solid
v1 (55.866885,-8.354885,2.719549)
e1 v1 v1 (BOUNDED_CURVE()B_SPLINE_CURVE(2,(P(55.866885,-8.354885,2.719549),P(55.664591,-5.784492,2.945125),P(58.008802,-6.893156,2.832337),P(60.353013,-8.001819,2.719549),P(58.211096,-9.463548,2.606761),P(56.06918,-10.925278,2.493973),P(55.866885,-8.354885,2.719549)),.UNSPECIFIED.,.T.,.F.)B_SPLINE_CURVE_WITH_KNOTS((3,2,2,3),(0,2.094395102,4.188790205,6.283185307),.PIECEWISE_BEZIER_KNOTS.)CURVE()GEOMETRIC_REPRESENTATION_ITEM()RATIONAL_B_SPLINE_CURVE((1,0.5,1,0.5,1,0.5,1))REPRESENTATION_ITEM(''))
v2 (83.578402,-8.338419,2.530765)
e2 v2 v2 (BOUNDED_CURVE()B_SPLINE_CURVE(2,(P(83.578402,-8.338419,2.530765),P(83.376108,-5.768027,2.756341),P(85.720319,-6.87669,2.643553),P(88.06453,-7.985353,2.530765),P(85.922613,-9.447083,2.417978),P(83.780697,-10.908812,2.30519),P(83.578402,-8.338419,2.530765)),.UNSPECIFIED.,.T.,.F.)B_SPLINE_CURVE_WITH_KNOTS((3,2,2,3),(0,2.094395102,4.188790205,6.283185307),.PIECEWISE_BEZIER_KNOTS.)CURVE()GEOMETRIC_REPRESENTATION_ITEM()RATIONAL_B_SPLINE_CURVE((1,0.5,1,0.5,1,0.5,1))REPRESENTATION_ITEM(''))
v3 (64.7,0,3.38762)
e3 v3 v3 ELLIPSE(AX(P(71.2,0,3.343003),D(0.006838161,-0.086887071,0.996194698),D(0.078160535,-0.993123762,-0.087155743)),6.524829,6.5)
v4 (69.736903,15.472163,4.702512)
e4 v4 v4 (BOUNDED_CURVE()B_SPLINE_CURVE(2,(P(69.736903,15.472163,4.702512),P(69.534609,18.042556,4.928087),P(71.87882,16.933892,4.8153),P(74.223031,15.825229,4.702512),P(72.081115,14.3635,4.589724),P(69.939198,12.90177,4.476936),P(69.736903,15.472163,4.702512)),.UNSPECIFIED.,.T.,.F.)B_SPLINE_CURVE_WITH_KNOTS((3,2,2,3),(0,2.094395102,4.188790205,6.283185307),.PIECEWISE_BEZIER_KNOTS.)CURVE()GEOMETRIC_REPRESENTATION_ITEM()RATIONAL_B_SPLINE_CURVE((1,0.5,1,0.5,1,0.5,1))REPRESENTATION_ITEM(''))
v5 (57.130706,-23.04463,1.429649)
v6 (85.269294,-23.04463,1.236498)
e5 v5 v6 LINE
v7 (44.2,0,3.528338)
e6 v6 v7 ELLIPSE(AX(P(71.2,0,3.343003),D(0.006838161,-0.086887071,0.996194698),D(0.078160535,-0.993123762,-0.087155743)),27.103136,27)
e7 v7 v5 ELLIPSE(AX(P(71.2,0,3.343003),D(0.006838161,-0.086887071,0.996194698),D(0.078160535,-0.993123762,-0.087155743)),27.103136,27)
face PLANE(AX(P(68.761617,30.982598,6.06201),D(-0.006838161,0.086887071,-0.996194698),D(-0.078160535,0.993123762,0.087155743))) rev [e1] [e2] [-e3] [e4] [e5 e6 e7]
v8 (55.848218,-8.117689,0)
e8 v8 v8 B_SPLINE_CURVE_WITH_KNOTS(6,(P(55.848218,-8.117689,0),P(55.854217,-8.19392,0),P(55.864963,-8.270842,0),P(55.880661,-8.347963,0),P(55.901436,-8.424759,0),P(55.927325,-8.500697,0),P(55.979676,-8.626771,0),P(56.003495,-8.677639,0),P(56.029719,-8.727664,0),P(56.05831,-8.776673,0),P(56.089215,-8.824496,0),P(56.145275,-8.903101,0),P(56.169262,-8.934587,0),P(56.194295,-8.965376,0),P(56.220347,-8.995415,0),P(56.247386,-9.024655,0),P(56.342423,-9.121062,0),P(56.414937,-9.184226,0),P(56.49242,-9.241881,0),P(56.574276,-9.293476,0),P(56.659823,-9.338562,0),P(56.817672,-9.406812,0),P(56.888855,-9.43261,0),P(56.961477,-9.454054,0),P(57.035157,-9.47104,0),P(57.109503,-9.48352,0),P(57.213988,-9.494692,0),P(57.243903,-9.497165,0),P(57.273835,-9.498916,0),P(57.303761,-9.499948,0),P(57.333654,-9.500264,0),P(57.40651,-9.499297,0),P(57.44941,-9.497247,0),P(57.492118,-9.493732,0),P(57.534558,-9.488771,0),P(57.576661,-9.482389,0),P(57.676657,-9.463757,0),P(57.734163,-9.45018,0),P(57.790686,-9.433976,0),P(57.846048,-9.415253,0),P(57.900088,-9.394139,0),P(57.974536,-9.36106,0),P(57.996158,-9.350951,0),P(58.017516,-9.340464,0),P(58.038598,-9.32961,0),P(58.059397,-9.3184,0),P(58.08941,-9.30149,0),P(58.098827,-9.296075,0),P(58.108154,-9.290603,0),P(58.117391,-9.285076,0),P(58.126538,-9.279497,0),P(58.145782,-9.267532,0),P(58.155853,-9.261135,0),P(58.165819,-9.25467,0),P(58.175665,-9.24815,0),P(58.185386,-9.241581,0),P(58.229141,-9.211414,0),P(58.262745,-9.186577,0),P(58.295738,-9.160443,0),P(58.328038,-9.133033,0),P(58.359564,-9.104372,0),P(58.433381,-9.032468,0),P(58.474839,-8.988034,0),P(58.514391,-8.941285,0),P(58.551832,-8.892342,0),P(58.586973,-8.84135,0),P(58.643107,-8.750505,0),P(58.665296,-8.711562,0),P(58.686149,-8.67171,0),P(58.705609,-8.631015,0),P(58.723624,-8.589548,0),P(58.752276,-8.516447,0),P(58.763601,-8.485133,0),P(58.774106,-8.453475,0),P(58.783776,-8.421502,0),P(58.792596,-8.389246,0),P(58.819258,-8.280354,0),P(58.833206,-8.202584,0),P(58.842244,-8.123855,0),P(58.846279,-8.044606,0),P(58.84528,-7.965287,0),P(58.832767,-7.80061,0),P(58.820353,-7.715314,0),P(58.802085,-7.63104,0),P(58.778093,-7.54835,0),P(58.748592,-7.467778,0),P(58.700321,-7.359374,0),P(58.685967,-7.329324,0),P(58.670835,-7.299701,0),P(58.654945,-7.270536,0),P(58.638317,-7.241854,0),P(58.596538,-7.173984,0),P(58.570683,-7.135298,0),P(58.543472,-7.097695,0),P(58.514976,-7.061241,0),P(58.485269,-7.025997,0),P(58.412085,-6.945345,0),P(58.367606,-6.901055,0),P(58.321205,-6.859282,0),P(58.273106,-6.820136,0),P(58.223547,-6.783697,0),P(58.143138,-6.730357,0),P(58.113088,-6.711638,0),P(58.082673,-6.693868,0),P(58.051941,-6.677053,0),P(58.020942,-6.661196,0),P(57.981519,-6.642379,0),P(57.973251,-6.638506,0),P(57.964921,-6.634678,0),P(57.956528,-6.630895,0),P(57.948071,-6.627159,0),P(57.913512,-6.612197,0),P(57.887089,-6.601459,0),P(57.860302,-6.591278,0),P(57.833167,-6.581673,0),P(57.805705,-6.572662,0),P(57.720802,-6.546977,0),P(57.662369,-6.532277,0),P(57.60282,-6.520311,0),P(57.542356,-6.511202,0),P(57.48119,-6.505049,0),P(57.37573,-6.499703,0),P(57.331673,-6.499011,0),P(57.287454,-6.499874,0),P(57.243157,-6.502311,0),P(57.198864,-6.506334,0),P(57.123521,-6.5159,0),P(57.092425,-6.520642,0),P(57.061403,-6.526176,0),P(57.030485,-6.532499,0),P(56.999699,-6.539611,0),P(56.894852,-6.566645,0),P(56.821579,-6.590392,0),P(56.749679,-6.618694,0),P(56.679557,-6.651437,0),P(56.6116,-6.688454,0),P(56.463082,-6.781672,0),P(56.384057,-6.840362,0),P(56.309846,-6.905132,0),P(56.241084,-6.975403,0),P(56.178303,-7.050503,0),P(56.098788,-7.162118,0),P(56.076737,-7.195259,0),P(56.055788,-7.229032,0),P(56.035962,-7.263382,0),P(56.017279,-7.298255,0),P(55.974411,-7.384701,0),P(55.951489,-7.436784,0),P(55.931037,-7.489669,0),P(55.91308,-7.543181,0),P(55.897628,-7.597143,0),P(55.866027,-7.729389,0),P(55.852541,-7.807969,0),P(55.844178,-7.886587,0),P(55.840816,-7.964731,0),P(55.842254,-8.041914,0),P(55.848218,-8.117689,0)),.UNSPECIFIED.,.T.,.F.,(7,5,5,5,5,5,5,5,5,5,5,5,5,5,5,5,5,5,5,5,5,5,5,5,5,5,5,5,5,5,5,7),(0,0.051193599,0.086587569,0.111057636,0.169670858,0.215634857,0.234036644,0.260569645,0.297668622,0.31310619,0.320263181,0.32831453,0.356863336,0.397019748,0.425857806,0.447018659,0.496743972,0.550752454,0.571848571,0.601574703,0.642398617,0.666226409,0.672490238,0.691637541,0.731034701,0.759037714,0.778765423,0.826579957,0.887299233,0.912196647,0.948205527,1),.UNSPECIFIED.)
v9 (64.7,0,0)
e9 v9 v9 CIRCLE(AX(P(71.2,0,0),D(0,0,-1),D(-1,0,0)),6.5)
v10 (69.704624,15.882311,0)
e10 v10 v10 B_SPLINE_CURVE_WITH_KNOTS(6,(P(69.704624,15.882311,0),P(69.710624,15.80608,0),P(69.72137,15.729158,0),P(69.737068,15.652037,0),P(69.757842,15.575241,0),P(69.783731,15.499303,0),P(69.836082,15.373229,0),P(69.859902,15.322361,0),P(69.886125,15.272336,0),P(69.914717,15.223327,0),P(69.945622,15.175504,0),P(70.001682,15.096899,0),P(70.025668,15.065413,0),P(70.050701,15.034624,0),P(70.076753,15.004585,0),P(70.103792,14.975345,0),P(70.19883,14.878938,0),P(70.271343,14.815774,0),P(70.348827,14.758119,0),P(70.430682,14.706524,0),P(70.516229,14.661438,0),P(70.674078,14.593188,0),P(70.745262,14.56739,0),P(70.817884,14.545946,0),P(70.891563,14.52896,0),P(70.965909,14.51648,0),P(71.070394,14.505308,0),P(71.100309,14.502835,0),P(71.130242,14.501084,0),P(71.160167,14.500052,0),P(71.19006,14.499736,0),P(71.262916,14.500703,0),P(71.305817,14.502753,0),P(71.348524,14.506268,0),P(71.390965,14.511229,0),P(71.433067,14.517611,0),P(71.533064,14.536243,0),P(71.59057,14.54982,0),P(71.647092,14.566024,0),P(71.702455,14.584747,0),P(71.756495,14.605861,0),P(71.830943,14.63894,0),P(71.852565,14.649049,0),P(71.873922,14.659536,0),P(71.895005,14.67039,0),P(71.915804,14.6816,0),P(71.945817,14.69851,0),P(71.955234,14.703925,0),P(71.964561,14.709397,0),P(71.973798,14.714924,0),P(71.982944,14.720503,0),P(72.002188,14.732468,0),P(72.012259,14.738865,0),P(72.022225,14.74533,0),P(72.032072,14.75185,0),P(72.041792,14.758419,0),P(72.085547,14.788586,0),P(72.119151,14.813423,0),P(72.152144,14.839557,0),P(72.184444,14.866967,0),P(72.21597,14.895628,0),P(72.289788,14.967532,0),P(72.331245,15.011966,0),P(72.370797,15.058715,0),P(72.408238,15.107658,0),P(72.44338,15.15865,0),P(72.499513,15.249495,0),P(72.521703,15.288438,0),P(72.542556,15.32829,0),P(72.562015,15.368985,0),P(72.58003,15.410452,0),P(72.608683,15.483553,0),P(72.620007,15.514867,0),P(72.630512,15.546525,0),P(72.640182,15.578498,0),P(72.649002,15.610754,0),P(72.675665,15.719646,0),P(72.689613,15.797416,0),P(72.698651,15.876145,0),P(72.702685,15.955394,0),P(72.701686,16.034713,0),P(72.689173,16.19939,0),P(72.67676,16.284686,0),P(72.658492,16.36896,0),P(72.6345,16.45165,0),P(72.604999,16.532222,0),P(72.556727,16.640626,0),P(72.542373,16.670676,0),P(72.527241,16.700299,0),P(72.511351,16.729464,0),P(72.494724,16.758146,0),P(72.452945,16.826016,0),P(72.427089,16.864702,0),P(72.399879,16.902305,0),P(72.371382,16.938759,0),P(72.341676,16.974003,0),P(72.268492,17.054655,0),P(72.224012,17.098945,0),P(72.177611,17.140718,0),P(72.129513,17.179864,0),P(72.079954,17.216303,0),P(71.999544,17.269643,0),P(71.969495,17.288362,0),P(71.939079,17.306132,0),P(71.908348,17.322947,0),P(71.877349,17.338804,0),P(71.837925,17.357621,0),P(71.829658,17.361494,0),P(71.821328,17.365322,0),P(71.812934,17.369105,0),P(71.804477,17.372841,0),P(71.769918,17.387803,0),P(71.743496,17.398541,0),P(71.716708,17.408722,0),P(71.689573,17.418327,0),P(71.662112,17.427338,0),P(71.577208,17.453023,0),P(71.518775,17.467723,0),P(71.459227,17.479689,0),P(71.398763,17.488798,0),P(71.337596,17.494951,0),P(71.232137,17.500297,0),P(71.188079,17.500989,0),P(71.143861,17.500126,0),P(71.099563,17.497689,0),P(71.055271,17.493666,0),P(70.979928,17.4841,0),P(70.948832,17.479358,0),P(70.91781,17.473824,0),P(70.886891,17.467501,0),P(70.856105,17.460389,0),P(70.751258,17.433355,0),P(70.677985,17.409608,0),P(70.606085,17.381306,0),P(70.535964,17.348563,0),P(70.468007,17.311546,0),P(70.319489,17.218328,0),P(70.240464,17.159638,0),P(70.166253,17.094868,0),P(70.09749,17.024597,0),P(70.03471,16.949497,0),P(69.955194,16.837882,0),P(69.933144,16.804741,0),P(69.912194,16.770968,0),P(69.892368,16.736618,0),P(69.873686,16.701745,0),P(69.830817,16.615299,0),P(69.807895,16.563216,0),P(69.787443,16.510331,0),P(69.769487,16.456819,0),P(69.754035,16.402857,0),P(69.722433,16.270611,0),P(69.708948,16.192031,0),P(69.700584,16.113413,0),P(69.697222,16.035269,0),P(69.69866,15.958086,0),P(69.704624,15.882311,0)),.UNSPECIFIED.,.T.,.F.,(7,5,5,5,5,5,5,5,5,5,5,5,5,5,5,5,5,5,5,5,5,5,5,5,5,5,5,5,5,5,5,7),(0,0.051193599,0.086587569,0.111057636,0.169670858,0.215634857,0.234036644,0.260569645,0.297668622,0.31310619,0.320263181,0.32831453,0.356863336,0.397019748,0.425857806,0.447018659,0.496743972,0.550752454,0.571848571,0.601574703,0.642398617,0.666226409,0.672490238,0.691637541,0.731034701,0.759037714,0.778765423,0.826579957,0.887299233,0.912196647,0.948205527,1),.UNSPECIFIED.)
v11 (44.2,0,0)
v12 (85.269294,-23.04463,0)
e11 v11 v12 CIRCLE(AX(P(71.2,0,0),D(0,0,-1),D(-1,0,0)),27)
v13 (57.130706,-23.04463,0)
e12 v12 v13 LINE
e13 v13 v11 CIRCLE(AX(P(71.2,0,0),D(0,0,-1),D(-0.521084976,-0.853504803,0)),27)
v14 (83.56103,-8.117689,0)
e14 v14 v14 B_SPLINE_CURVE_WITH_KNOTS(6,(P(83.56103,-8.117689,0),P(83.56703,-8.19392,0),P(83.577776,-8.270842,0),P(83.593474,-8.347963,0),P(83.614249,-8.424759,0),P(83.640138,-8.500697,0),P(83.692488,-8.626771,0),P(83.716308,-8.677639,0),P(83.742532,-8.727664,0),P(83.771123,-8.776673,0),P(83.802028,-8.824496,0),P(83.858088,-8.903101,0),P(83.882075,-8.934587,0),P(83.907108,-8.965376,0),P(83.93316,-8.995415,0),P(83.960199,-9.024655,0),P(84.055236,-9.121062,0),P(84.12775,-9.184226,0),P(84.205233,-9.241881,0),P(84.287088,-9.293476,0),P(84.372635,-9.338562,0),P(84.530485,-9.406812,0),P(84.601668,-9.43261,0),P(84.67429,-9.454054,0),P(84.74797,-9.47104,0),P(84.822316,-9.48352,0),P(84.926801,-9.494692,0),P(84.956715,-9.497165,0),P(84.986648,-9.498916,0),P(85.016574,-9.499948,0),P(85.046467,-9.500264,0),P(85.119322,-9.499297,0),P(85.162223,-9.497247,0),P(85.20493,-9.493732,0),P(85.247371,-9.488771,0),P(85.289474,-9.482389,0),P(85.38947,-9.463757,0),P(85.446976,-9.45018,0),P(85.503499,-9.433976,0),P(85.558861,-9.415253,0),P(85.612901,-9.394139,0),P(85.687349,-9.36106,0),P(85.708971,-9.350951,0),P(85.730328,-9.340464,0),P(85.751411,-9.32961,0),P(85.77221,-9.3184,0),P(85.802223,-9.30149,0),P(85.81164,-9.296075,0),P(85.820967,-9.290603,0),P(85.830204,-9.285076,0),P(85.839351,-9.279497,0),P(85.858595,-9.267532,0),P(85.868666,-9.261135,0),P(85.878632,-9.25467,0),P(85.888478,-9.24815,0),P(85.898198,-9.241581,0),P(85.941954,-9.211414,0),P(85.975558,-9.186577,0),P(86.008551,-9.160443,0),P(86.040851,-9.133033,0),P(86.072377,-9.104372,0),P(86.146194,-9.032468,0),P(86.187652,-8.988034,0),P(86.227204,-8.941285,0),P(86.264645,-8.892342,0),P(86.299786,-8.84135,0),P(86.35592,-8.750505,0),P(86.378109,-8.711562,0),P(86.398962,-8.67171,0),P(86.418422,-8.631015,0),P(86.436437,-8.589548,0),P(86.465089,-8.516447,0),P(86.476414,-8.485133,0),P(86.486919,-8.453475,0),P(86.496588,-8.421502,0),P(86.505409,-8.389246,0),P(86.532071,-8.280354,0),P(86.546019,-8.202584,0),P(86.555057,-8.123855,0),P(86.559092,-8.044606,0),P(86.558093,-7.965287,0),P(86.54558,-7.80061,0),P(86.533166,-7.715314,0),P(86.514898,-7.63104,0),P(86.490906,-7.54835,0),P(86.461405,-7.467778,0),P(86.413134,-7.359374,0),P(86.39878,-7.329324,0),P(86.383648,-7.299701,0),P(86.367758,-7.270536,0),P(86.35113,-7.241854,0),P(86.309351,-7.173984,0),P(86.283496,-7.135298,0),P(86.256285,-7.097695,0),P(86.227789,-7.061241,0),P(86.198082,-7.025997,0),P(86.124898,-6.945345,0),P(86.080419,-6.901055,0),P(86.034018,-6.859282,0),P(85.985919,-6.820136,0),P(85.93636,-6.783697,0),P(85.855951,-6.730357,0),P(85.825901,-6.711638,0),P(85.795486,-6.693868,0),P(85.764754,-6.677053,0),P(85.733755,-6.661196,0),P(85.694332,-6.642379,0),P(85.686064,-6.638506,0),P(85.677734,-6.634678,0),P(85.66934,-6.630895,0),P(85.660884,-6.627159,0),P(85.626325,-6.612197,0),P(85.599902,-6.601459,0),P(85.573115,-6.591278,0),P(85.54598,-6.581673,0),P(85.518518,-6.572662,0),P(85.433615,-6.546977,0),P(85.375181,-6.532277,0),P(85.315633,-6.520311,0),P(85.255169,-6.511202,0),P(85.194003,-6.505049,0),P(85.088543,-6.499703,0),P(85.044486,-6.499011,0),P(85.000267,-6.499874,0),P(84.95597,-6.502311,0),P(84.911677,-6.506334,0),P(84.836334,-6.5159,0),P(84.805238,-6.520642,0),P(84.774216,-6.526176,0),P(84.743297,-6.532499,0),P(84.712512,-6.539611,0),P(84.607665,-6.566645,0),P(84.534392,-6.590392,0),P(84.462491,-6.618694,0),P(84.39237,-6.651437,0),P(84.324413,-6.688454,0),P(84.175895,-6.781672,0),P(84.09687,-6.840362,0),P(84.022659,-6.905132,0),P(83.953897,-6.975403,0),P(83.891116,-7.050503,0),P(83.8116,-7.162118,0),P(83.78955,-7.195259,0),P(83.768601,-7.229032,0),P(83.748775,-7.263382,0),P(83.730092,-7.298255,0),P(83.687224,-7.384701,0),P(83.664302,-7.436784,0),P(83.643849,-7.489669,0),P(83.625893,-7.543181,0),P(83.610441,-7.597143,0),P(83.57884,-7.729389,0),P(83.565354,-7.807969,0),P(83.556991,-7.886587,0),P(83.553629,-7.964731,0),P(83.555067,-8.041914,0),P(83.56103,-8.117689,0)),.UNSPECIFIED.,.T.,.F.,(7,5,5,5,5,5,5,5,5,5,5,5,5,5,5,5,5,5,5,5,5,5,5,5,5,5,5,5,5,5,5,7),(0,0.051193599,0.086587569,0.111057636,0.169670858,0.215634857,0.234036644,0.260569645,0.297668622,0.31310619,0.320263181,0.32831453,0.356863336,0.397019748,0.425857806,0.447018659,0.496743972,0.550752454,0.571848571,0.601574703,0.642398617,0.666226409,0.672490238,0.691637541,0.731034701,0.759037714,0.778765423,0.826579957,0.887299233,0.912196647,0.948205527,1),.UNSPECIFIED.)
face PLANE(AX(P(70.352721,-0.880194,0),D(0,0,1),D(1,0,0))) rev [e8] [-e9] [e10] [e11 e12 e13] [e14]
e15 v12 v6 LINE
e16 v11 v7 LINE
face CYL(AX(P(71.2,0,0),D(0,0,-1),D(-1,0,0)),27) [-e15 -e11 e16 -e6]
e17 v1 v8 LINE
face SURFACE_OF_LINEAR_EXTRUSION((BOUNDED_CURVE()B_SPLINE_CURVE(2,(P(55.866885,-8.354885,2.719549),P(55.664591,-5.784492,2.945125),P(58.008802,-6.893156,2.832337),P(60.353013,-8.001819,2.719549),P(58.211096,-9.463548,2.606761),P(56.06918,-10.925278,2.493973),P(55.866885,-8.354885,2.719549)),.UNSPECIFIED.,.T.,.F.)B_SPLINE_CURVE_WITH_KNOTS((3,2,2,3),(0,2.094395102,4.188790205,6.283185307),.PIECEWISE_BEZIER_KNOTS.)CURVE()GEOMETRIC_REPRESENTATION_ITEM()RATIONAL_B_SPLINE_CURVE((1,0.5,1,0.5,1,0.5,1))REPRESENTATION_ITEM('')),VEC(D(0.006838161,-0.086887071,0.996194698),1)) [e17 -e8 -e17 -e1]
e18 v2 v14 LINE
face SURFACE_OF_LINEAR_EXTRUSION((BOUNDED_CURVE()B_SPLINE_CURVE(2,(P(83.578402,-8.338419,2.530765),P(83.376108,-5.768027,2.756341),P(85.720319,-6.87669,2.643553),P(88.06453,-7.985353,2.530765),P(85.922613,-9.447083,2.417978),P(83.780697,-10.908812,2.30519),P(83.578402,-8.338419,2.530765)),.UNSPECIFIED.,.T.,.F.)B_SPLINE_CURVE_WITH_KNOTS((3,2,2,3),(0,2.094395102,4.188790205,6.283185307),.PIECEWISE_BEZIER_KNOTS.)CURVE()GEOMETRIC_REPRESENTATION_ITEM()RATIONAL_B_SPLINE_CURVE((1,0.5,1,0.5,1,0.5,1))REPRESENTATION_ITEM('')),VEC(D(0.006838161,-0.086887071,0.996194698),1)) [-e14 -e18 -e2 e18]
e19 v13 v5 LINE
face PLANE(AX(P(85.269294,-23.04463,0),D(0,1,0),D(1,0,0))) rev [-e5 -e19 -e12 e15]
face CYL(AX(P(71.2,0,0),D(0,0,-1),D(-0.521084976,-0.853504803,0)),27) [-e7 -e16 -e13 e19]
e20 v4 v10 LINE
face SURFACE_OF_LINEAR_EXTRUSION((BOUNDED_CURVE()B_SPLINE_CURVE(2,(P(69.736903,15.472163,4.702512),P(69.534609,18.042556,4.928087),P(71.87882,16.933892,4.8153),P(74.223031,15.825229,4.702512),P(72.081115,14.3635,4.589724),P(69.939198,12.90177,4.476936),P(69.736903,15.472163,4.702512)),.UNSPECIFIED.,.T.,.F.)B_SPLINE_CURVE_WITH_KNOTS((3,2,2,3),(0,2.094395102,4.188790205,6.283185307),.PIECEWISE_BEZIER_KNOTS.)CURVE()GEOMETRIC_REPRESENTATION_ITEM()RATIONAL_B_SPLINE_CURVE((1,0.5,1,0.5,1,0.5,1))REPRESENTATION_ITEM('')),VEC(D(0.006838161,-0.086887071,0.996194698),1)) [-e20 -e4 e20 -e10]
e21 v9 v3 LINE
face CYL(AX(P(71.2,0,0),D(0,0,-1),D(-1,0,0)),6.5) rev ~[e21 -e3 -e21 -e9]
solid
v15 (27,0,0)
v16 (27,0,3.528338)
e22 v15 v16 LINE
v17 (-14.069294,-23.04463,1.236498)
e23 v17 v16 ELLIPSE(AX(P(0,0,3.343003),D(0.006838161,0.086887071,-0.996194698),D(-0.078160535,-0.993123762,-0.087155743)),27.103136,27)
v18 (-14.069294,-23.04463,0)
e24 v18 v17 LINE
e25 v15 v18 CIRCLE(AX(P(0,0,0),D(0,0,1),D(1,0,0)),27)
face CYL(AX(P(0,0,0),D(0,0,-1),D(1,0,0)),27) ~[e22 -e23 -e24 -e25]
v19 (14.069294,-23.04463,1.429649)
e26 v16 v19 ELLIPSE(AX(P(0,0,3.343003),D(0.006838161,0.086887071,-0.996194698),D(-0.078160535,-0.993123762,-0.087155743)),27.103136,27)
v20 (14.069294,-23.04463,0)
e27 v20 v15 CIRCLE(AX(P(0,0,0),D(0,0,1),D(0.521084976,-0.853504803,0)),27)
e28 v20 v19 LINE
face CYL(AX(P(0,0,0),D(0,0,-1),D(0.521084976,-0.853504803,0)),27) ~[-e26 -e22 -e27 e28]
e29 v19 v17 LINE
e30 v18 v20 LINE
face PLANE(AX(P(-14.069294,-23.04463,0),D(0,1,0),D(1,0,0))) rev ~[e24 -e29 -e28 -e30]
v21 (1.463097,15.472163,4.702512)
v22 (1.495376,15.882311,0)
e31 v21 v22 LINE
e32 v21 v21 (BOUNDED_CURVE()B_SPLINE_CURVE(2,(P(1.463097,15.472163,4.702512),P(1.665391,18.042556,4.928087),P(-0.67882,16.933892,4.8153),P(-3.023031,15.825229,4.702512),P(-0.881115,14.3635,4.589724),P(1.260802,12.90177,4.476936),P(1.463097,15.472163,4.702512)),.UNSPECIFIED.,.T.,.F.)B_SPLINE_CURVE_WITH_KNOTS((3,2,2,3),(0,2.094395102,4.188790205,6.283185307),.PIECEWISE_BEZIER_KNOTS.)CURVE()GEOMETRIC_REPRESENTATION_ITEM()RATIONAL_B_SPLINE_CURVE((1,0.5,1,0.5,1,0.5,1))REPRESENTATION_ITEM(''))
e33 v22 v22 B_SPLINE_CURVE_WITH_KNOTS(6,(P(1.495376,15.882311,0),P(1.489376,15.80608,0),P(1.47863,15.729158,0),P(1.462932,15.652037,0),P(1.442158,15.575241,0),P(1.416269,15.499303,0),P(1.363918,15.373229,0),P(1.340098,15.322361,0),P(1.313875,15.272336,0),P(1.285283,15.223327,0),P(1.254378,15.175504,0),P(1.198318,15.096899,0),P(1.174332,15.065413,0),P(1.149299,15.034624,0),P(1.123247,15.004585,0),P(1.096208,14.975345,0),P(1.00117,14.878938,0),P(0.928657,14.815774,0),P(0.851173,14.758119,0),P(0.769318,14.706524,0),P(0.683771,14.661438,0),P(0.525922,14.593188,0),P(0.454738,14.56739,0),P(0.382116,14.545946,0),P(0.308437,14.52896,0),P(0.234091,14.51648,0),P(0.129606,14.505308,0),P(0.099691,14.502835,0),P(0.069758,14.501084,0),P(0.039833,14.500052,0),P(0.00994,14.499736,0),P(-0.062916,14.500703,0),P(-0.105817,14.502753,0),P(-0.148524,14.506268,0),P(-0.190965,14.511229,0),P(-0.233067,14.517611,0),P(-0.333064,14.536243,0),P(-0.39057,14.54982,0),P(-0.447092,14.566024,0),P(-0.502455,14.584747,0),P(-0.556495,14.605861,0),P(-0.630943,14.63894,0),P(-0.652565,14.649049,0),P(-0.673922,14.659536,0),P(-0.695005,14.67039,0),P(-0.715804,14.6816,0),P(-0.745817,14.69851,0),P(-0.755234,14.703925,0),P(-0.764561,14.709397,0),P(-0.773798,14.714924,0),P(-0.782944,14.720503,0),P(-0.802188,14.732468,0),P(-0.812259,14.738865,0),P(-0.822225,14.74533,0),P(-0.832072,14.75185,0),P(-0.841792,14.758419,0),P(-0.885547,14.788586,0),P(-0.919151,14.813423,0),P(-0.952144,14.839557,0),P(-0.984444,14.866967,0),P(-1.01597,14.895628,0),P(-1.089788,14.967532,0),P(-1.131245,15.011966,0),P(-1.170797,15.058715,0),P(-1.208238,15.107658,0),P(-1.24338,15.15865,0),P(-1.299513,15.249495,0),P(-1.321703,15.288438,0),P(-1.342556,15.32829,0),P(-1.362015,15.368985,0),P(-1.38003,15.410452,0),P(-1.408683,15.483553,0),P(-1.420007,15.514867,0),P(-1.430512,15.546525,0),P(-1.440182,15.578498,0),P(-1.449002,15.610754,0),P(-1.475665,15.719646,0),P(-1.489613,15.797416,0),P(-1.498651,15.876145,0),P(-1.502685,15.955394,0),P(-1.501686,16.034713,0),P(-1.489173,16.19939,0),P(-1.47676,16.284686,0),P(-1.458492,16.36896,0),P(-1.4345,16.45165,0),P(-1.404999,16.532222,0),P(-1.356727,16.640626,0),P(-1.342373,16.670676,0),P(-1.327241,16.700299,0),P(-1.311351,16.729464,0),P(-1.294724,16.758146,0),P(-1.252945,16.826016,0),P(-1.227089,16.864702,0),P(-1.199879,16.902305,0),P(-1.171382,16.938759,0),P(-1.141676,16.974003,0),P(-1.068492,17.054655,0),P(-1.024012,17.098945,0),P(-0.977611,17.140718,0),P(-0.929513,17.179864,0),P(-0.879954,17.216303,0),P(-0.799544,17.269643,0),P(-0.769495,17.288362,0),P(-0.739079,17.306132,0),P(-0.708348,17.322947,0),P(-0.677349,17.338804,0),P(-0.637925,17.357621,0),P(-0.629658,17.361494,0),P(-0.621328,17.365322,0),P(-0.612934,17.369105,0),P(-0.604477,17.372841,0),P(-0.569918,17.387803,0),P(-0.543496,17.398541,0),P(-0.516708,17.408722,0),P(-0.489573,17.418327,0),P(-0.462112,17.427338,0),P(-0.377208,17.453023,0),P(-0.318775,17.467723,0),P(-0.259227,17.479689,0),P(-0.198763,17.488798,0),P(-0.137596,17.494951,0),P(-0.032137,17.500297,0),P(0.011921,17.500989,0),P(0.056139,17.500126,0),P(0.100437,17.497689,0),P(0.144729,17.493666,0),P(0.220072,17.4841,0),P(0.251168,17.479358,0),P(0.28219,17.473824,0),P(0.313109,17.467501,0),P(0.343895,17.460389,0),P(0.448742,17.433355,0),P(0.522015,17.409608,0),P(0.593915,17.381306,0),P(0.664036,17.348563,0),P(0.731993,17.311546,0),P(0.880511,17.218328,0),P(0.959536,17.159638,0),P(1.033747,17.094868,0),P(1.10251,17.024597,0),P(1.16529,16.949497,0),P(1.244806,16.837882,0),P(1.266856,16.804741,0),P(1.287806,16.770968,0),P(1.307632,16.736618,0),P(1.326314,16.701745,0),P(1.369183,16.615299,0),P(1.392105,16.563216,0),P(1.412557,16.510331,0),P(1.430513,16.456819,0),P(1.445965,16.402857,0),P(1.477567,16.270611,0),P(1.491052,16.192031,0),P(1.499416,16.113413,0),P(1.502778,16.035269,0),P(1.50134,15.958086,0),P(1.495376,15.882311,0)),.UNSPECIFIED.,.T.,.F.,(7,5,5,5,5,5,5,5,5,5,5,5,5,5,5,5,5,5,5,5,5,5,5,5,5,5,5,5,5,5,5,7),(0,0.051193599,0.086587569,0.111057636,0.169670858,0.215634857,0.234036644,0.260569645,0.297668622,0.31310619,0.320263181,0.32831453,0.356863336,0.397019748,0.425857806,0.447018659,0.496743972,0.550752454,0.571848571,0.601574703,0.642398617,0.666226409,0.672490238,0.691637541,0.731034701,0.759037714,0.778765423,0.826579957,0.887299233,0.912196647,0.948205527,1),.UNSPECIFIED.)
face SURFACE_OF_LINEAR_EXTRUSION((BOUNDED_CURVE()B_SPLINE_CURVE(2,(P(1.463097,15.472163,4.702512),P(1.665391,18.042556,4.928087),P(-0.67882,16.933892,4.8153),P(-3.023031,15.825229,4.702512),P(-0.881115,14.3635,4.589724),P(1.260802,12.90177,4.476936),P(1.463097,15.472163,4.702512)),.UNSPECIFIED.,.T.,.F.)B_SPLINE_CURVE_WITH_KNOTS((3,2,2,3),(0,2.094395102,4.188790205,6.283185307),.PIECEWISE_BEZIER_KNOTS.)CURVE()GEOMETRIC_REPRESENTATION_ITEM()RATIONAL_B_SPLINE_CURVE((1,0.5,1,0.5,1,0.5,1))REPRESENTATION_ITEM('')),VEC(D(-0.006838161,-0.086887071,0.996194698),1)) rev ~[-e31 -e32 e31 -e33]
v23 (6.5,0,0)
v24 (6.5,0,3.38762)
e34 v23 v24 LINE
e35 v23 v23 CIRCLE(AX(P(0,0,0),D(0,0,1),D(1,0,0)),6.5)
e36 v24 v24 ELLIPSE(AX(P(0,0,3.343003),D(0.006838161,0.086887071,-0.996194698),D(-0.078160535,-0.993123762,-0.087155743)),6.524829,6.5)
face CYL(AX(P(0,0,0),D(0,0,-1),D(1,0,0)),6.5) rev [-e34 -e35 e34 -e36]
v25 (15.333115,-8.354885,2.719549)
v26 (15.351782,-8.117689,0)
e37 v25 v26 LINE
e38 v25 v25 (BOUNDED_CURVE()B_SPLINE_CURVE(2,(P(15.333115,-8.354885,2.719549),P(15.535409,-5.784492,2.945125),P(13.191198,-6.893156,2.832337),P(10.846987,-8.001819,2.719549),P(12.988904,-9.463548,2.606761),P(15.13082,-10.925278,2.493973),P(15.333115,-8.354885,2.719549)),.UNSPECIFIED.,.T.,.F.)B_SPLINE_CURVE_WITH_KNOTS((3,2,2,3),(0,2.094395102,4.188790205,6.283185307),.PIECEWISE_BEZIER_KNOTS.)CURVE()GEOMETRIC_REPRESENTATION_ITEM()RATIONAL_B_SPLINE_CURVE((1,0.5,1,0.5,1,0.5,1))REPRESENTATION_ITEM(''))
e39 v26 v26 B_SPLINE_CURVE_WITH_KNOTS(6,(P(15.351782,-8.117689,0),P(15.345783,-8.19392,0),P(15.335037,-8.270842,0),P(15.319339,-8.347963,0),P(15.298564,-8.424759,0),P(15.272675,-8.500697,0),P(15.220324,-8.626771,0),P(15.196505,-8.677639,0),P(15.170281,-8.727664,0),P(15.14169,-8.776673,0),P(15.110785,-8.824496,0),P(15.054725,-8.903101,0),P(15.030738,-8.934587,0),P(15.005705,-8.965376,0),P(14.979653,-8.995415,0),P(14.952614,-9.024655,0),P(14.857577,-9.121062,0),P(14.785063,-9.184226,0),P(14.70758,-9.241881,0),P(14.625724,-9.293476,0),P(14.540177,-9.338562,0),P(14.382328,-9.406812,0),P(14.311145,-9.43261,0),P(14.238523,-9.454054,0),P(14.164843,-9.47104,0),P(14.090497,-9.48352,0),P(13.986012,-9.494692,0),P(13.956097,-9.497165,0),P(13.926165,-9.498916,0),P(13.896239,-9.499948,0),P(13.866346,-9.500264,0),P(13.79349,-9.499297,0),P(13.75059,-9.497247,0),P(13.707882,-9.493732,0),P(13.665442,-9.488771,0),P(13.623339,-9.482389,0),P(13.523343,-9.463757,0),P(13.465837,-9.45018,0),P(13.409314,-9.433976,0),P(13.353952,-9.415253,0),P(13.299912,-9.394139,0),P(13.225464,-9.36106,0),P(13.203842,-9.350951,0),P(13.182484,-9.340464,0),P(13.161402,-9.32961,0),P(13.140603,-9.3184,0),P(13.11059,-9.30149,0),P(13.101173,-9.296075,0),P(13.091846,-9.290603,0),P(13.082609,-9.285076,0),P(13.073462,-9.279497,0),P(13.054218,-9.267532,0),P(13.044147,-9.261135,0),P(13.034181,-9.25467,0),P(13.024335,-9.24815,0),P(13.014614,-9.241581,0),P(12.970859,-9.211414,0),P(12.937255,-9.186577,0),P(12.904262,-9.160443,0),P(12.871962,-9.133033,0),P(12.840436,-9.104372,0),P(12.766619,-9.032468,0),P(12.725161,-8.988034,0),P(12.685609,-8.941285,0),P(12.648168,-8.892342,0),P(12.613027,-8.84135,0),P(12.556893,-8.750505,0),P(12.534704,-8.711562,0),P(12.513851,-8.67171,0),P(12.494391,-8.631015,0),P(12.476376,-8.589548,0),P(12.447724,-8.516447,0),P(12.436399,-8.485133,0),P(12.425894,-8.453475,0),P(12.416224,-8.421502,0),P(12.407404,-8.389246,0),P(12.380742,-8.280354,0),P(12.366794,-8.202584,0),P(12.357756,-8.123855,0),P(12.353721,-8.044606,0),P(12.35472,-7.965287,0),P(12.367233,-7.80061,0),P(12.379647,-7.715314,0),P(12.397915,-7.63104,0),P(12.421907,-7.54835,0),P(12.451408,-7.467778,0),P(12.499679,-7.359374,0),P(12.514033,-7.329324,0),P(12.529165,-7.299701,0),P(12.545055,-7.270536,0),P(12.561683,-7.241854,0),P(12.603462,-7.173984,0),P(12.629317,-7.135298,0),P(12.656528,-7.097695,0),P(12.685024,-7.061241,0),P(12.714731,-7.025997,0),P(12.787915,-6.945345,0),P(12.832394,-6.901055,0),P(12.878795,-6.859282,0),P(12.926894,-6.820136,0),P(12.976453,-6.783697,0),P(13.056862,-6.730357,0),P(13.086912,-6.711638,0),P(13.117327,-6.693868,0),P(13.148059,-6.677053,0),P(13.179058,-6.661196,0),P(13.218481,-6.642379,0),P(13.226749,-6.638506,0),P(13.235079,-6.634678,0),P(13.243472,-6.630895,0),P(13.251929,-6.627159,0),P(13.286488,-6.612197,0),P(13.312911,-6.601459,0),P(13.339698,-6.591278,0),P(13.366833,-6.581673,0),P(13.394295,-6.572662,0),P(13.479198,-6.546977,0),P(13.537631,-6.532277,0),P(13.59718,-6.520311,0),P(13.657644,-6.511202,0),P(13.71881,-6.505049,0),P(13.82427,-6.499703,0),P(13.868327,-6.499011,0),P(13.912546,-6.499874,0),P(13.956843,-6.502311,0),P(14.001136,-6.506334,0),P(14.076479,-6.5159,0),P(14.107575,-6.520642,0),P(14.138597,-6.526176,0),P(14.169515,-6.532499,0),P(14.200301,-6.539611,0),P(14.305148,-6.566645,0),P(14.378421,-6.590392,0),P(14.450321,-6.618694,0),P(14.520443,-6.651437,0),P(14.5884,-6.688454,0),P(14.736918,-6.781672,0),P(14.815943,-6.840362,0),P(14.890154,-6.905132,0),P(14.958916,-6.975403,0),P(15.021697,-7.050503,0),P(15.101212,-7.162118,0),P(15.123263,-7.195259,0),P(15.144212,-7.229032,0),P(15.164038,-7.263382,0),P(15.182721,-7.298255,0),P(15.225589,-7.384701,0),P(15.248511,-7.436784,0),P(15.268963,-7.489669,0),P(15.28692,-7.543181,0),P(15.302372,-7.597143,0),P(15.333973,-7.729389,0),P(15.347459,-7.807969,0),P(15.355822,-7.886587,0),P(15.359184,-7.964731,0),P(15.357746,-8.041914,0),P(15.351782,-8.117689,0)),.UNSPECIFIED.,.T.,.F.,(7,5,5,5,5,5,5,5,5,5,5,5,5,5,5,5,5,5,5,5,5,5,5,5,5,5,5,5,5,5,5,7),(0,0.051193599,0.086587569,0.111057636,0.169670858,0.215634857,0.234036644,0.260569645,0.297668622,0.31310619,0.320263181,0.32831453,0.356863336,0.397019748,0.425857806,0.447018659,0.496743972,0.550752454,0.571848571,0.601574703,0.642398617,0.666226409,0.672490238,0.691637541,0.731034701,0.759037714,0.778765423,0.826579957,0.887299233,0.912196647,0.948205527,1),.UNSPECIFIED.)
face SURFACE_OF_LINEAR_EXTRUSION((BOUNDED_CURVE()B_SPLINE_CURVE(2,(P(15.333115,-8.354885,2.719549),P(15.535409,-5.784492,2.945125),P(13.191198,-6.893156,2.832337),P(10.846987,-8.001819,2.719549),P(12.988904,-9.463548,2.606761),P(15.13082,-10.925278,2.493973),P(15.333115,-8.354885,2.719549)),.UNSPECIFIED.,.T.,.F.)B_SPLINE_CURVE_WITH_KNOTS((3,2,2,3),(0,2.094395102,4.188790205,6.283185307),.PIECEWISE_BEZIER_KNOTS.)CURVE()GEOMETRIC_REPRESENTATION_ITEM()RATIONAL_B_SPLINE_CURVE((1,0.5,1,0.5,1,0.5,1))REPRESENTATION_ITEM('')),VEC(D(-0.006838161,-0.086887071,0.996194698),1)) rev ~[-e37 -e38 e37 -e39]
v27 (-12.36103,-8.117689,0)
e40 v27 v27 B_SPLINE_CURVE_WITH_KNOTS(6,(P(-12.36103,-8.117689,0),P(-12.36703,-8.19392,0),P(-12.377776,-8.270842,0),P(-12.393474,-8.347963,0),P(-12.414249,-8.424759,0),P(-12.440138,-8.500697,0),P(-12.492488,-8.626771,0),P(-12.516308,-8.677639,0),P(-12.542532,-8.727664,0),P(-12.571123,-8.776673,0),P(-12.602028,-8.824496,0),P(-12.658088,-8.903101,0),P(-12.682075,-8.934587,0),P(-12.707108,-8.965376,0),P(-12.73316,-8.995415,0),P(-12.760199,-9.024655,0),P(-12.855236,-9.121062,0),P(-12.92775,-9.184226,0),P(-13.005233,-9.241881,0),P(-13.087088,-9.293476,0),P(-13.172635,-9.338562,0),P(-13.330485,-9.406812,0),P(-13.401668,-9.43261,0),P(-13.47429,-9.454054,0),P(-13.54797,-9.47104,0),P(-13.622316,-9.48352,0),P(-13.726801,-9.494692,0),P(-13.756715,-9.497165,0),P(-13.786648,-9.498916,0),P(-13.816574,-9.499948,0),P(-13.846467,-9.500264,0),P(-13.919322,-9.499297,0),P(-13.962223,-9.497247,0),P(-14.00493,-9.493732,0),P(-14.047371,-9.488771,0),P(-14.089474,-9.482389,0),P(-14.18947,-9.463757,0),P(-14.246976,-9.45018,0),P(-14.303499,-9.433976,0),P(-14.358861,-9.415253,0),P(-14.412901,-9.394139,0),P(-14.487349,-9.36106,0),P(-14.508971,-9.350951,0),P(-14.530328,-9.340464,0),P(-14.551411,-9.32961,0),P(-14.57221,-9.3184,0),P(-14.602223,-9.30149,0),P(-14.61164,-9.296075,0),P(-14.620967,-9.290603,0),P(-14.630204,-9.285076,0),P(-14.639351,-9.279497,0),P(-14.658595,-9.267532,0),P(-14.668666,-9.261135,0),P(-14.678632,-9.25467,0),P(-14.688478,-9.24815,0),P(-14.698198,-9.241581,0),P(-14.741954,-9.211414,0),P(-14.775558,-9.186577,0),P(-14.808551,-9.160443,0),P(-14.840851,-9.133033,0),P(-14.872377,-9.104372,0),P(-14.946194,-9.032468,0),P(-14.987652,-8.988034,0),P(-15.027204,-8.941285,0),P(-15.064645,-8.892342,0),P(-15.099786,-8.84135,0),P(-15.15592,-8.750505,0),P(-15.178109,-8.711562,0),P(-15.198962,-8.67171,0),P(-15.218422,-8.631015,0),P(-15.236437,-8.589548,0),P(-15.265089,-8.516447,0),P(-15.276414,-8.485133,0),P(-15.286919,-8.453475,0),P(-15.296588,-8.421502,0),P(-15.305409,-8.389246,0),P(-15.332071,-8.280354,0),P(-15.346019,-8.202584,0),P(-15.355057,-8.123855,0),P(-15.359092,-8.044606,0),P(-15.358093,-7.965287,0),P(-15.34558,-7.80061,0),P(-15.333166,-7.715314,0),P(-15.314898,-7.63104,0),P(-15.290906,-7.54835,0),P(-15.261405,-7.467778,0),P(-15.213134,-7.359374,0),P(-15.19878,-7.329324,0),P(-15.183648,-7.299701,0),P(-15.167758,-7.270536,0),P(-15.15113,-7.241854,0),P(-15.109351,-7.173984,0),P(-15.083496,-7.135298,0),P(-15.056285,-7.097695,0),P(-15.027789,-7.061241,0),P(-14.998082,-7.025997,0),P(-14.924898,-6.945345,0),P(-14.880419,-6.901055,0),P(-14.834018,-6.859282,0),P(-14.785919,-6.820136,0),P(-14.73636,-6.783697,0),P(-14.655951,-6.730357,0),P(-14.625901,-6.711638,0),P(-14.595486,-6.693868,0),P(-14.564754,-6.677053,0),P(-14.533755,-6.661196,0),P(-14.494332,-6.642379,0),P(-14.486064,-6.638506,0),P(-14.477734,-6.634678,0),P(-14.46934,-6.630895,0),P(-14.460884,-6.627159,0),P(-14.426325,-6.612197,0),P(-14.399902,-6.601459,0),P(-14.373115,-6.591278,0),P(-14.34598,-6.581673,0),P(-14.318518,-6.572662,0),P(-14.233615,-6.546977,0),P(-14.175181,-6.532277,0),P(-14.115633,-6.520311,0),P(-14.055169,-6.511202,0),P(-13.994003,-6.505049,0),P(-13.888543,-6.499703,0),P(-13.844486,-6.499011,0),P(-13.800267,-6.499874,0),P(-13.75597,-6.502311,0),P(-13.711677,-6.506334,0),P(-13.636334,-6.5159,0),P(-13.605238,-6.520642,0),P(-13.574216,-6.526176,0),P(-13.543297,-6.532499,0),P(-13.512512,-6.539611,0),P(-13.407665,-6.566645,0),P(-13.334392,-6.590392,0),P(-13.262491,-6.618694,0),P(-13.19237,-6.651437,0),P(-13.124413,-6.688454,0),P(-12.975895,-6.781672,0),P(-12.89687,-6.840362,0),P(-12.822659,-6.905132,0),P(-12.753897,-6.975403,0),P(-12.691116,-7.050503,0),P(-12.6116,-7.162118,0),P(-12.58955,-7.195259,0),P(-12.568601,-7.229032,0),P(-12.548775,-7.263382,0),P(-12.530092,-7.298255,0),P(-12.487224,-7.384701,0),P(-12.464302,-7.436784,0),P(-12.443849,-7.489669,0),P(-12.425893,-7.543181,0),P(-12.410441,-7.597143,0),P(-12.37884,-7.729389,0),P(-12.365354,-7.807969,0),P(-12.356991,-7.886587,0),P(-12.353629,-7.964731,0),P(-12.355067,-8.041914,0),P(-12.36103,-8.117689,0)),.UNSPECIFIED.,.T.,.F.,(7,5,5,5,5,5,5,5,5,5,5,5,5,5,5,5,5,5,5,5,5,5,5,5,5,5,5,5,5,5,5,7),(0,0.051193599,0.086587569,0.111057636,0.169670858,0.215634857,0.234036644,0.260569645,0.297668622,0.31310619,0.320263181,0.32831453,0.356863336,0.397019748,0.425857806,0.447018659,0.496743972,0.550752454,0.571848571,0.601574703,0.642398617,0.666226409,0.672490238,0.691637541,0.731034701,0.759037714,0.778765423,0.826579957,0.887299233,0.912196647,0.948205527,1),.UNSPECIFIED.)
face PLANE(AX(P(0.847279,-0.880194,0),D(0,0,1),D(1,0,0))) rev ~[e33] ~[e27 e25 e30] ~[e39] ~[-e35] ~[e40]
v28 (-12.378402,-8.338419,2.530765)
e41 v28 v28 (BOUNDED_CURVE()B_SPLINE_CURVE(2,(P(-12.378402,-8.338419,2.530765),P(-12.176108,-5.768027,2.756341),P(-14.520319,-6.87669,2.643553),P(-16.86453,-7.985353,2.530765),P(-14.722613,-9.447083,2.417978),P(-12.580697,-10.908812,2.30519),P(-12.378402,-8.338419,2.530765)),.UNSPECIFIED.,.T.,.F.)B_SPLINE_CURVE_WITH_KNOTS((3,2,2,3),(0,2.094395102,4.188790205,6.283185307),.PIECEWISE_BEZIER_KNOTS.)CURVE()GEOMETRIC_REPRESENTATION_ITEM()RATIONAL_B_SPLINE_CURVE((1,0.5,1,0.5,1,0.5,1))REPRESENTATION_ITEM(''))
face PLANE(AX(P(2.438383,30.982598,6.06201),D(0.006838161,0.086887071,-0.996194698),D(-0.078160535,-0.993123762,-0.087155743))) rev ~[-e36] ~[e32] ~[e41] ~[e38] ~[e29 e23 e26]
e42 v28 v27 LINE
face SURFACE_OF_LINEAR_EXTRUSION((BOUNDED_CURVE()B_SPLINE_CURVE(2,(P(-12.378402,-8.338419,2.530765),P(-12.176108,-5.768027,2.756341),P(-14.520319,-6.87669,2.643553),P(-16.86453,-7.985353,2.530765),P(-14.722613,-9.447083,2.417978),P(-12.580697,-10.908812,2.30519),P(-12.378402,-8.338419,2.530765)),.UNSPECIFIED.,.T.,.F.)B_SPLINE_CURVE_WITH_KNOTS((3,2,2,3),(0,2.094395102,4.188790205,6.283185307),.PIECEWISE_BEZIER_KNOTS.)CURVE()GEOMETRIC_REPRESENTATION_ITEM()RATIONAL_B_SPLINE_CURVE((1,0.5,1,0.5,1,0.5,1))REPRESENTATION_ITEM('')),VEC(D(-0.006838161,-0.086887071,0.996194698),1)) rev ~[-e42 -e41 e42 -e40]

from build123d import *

# Parameters (mm, degrees)
F0_R     = 6.5
F1_DEPTH = 25
F5_DEPTH = 50
F7_DEPTH = 5.861862694


with BuildPart() as f1:
    # F0 (on Top) → F1 (new body)
    with BuildSketch(Plane.XY):
        with BuildLine():
            ThreePointArc((14.0692943446, -23.0446296704), (23.546453526, -13.2122869462), (27, 0))
            ThreePointArc((27, 0), (-13.2122869462, 23.546453526), (-14.0692943446, -23.0446296704))
            Line((-14.0692943446, -23.0446296704), (14.0692943446, -23.0446296704))
        make_face()
        Circle(F0_R, mode=Mode.SUBTRACT)
    extrude(amount=F1_DEPTH)

    # F4 (on 3pt) → F5 (cut, symmetric)
    with BuildSketch(Plane(origin=(0, 0, 0), x_dir=(-0.0784590957, -0.9969173337, 0), z_dir=(-0.9969173337, 0.0784590957, 0))):
        Polygon((33.1225750617, 31.4058586955), (-31.078401953, 31.4058586955), (-31.078401953, 6.0620104305), (33.1225750617, 0.4451527544), align=None)
    extrude(amount=F5_DEPTH, both=True, mode=Mode.SUBTRACT)

    # F6 (on face) → F7 (cut, through all)
    with BuildSketch(Plane(origin=(-0.0227729999, -0.2893583993, 3.3176087187), x_dir=(0.9999766195, -0.0005941616, 0.0068122988), z_dir=(-0.0068381608, -0.0868870707, 0.9961946981))):
        with BuildLine():
            add(Edge.make_bspline(
                [(1.4859043777, 15.8222442986), (1.6882034033, 18.4025158484), (-0.6560625556, 17.2882453895), (-3.0003285145, 16.1739749305), (-0.8583615812, 14.7079738397), (1.283605352, 13.2419727488), (1.4859043777, 15.8222442986)],
                knots=[0, 0, 0, 2.0943951024, 2.0943951024, 4.1887902048, 4.1887902048, 6.2831853072, 6.2831853072, 6.2831853072], degree=2, weights=[1, 0.5, 1, 0.5, 1, 0.5, 1]))
        make_face()
        with BuildLine():
            add(Edge.make_bspline(
                [(-12.3559182337, -8.0869874653), (-12.153619208, -5.5067159155), (-14.4978851669, -6.6209863744), (-16.8421511258, -7.7352568333), (-14.7001841926, -9.2012579242), (-12.5582172593, -10.6672590151), (-12.3559182337, -8.0869874653)],
                knots=[0, 0, 0, 2.0943951024, 2.0943951024, 4.1887902048, 4.1887902048, 6.2831853072, 6.2831853072, 6.2831853072], degree=2, weights=[1, 0.5, 1, 0.5, 1, 0.5, 1]))
        make_face()
        with BuildLine():
            add(Edge.make_bspline(
                [(15.3562467482, -8.0869874653), (15.5585457738, -5.5067159155), (13.2142798149, -6.6209863744), (10.870013856, -7.7352568333), (13.0119807893, -9.2012579242), (15.1539477225, -10.6672590151), (15.3562467482, -8.0869874653)],
                knots=[0, 0, 0, 2.0943951024, 2.0943951024, 4.1887902048, 4.1887902048, 6.2831853072, 6.2831853072, 6.2831853072], degree=2, weights=[1, 0.5, 1, 0.5, 1, 0.5, 1]))
        make_face()
    extrude(amount=-F7_DEPTH, mode=Mode.SUBTRACT)


with BuildPart() as f9_1:
    # F9: instance of F1
    add(f1.part.mirror(Plane.YZ.offset(35.6)))


solid = Compound([f1.part, f9_1.part])
